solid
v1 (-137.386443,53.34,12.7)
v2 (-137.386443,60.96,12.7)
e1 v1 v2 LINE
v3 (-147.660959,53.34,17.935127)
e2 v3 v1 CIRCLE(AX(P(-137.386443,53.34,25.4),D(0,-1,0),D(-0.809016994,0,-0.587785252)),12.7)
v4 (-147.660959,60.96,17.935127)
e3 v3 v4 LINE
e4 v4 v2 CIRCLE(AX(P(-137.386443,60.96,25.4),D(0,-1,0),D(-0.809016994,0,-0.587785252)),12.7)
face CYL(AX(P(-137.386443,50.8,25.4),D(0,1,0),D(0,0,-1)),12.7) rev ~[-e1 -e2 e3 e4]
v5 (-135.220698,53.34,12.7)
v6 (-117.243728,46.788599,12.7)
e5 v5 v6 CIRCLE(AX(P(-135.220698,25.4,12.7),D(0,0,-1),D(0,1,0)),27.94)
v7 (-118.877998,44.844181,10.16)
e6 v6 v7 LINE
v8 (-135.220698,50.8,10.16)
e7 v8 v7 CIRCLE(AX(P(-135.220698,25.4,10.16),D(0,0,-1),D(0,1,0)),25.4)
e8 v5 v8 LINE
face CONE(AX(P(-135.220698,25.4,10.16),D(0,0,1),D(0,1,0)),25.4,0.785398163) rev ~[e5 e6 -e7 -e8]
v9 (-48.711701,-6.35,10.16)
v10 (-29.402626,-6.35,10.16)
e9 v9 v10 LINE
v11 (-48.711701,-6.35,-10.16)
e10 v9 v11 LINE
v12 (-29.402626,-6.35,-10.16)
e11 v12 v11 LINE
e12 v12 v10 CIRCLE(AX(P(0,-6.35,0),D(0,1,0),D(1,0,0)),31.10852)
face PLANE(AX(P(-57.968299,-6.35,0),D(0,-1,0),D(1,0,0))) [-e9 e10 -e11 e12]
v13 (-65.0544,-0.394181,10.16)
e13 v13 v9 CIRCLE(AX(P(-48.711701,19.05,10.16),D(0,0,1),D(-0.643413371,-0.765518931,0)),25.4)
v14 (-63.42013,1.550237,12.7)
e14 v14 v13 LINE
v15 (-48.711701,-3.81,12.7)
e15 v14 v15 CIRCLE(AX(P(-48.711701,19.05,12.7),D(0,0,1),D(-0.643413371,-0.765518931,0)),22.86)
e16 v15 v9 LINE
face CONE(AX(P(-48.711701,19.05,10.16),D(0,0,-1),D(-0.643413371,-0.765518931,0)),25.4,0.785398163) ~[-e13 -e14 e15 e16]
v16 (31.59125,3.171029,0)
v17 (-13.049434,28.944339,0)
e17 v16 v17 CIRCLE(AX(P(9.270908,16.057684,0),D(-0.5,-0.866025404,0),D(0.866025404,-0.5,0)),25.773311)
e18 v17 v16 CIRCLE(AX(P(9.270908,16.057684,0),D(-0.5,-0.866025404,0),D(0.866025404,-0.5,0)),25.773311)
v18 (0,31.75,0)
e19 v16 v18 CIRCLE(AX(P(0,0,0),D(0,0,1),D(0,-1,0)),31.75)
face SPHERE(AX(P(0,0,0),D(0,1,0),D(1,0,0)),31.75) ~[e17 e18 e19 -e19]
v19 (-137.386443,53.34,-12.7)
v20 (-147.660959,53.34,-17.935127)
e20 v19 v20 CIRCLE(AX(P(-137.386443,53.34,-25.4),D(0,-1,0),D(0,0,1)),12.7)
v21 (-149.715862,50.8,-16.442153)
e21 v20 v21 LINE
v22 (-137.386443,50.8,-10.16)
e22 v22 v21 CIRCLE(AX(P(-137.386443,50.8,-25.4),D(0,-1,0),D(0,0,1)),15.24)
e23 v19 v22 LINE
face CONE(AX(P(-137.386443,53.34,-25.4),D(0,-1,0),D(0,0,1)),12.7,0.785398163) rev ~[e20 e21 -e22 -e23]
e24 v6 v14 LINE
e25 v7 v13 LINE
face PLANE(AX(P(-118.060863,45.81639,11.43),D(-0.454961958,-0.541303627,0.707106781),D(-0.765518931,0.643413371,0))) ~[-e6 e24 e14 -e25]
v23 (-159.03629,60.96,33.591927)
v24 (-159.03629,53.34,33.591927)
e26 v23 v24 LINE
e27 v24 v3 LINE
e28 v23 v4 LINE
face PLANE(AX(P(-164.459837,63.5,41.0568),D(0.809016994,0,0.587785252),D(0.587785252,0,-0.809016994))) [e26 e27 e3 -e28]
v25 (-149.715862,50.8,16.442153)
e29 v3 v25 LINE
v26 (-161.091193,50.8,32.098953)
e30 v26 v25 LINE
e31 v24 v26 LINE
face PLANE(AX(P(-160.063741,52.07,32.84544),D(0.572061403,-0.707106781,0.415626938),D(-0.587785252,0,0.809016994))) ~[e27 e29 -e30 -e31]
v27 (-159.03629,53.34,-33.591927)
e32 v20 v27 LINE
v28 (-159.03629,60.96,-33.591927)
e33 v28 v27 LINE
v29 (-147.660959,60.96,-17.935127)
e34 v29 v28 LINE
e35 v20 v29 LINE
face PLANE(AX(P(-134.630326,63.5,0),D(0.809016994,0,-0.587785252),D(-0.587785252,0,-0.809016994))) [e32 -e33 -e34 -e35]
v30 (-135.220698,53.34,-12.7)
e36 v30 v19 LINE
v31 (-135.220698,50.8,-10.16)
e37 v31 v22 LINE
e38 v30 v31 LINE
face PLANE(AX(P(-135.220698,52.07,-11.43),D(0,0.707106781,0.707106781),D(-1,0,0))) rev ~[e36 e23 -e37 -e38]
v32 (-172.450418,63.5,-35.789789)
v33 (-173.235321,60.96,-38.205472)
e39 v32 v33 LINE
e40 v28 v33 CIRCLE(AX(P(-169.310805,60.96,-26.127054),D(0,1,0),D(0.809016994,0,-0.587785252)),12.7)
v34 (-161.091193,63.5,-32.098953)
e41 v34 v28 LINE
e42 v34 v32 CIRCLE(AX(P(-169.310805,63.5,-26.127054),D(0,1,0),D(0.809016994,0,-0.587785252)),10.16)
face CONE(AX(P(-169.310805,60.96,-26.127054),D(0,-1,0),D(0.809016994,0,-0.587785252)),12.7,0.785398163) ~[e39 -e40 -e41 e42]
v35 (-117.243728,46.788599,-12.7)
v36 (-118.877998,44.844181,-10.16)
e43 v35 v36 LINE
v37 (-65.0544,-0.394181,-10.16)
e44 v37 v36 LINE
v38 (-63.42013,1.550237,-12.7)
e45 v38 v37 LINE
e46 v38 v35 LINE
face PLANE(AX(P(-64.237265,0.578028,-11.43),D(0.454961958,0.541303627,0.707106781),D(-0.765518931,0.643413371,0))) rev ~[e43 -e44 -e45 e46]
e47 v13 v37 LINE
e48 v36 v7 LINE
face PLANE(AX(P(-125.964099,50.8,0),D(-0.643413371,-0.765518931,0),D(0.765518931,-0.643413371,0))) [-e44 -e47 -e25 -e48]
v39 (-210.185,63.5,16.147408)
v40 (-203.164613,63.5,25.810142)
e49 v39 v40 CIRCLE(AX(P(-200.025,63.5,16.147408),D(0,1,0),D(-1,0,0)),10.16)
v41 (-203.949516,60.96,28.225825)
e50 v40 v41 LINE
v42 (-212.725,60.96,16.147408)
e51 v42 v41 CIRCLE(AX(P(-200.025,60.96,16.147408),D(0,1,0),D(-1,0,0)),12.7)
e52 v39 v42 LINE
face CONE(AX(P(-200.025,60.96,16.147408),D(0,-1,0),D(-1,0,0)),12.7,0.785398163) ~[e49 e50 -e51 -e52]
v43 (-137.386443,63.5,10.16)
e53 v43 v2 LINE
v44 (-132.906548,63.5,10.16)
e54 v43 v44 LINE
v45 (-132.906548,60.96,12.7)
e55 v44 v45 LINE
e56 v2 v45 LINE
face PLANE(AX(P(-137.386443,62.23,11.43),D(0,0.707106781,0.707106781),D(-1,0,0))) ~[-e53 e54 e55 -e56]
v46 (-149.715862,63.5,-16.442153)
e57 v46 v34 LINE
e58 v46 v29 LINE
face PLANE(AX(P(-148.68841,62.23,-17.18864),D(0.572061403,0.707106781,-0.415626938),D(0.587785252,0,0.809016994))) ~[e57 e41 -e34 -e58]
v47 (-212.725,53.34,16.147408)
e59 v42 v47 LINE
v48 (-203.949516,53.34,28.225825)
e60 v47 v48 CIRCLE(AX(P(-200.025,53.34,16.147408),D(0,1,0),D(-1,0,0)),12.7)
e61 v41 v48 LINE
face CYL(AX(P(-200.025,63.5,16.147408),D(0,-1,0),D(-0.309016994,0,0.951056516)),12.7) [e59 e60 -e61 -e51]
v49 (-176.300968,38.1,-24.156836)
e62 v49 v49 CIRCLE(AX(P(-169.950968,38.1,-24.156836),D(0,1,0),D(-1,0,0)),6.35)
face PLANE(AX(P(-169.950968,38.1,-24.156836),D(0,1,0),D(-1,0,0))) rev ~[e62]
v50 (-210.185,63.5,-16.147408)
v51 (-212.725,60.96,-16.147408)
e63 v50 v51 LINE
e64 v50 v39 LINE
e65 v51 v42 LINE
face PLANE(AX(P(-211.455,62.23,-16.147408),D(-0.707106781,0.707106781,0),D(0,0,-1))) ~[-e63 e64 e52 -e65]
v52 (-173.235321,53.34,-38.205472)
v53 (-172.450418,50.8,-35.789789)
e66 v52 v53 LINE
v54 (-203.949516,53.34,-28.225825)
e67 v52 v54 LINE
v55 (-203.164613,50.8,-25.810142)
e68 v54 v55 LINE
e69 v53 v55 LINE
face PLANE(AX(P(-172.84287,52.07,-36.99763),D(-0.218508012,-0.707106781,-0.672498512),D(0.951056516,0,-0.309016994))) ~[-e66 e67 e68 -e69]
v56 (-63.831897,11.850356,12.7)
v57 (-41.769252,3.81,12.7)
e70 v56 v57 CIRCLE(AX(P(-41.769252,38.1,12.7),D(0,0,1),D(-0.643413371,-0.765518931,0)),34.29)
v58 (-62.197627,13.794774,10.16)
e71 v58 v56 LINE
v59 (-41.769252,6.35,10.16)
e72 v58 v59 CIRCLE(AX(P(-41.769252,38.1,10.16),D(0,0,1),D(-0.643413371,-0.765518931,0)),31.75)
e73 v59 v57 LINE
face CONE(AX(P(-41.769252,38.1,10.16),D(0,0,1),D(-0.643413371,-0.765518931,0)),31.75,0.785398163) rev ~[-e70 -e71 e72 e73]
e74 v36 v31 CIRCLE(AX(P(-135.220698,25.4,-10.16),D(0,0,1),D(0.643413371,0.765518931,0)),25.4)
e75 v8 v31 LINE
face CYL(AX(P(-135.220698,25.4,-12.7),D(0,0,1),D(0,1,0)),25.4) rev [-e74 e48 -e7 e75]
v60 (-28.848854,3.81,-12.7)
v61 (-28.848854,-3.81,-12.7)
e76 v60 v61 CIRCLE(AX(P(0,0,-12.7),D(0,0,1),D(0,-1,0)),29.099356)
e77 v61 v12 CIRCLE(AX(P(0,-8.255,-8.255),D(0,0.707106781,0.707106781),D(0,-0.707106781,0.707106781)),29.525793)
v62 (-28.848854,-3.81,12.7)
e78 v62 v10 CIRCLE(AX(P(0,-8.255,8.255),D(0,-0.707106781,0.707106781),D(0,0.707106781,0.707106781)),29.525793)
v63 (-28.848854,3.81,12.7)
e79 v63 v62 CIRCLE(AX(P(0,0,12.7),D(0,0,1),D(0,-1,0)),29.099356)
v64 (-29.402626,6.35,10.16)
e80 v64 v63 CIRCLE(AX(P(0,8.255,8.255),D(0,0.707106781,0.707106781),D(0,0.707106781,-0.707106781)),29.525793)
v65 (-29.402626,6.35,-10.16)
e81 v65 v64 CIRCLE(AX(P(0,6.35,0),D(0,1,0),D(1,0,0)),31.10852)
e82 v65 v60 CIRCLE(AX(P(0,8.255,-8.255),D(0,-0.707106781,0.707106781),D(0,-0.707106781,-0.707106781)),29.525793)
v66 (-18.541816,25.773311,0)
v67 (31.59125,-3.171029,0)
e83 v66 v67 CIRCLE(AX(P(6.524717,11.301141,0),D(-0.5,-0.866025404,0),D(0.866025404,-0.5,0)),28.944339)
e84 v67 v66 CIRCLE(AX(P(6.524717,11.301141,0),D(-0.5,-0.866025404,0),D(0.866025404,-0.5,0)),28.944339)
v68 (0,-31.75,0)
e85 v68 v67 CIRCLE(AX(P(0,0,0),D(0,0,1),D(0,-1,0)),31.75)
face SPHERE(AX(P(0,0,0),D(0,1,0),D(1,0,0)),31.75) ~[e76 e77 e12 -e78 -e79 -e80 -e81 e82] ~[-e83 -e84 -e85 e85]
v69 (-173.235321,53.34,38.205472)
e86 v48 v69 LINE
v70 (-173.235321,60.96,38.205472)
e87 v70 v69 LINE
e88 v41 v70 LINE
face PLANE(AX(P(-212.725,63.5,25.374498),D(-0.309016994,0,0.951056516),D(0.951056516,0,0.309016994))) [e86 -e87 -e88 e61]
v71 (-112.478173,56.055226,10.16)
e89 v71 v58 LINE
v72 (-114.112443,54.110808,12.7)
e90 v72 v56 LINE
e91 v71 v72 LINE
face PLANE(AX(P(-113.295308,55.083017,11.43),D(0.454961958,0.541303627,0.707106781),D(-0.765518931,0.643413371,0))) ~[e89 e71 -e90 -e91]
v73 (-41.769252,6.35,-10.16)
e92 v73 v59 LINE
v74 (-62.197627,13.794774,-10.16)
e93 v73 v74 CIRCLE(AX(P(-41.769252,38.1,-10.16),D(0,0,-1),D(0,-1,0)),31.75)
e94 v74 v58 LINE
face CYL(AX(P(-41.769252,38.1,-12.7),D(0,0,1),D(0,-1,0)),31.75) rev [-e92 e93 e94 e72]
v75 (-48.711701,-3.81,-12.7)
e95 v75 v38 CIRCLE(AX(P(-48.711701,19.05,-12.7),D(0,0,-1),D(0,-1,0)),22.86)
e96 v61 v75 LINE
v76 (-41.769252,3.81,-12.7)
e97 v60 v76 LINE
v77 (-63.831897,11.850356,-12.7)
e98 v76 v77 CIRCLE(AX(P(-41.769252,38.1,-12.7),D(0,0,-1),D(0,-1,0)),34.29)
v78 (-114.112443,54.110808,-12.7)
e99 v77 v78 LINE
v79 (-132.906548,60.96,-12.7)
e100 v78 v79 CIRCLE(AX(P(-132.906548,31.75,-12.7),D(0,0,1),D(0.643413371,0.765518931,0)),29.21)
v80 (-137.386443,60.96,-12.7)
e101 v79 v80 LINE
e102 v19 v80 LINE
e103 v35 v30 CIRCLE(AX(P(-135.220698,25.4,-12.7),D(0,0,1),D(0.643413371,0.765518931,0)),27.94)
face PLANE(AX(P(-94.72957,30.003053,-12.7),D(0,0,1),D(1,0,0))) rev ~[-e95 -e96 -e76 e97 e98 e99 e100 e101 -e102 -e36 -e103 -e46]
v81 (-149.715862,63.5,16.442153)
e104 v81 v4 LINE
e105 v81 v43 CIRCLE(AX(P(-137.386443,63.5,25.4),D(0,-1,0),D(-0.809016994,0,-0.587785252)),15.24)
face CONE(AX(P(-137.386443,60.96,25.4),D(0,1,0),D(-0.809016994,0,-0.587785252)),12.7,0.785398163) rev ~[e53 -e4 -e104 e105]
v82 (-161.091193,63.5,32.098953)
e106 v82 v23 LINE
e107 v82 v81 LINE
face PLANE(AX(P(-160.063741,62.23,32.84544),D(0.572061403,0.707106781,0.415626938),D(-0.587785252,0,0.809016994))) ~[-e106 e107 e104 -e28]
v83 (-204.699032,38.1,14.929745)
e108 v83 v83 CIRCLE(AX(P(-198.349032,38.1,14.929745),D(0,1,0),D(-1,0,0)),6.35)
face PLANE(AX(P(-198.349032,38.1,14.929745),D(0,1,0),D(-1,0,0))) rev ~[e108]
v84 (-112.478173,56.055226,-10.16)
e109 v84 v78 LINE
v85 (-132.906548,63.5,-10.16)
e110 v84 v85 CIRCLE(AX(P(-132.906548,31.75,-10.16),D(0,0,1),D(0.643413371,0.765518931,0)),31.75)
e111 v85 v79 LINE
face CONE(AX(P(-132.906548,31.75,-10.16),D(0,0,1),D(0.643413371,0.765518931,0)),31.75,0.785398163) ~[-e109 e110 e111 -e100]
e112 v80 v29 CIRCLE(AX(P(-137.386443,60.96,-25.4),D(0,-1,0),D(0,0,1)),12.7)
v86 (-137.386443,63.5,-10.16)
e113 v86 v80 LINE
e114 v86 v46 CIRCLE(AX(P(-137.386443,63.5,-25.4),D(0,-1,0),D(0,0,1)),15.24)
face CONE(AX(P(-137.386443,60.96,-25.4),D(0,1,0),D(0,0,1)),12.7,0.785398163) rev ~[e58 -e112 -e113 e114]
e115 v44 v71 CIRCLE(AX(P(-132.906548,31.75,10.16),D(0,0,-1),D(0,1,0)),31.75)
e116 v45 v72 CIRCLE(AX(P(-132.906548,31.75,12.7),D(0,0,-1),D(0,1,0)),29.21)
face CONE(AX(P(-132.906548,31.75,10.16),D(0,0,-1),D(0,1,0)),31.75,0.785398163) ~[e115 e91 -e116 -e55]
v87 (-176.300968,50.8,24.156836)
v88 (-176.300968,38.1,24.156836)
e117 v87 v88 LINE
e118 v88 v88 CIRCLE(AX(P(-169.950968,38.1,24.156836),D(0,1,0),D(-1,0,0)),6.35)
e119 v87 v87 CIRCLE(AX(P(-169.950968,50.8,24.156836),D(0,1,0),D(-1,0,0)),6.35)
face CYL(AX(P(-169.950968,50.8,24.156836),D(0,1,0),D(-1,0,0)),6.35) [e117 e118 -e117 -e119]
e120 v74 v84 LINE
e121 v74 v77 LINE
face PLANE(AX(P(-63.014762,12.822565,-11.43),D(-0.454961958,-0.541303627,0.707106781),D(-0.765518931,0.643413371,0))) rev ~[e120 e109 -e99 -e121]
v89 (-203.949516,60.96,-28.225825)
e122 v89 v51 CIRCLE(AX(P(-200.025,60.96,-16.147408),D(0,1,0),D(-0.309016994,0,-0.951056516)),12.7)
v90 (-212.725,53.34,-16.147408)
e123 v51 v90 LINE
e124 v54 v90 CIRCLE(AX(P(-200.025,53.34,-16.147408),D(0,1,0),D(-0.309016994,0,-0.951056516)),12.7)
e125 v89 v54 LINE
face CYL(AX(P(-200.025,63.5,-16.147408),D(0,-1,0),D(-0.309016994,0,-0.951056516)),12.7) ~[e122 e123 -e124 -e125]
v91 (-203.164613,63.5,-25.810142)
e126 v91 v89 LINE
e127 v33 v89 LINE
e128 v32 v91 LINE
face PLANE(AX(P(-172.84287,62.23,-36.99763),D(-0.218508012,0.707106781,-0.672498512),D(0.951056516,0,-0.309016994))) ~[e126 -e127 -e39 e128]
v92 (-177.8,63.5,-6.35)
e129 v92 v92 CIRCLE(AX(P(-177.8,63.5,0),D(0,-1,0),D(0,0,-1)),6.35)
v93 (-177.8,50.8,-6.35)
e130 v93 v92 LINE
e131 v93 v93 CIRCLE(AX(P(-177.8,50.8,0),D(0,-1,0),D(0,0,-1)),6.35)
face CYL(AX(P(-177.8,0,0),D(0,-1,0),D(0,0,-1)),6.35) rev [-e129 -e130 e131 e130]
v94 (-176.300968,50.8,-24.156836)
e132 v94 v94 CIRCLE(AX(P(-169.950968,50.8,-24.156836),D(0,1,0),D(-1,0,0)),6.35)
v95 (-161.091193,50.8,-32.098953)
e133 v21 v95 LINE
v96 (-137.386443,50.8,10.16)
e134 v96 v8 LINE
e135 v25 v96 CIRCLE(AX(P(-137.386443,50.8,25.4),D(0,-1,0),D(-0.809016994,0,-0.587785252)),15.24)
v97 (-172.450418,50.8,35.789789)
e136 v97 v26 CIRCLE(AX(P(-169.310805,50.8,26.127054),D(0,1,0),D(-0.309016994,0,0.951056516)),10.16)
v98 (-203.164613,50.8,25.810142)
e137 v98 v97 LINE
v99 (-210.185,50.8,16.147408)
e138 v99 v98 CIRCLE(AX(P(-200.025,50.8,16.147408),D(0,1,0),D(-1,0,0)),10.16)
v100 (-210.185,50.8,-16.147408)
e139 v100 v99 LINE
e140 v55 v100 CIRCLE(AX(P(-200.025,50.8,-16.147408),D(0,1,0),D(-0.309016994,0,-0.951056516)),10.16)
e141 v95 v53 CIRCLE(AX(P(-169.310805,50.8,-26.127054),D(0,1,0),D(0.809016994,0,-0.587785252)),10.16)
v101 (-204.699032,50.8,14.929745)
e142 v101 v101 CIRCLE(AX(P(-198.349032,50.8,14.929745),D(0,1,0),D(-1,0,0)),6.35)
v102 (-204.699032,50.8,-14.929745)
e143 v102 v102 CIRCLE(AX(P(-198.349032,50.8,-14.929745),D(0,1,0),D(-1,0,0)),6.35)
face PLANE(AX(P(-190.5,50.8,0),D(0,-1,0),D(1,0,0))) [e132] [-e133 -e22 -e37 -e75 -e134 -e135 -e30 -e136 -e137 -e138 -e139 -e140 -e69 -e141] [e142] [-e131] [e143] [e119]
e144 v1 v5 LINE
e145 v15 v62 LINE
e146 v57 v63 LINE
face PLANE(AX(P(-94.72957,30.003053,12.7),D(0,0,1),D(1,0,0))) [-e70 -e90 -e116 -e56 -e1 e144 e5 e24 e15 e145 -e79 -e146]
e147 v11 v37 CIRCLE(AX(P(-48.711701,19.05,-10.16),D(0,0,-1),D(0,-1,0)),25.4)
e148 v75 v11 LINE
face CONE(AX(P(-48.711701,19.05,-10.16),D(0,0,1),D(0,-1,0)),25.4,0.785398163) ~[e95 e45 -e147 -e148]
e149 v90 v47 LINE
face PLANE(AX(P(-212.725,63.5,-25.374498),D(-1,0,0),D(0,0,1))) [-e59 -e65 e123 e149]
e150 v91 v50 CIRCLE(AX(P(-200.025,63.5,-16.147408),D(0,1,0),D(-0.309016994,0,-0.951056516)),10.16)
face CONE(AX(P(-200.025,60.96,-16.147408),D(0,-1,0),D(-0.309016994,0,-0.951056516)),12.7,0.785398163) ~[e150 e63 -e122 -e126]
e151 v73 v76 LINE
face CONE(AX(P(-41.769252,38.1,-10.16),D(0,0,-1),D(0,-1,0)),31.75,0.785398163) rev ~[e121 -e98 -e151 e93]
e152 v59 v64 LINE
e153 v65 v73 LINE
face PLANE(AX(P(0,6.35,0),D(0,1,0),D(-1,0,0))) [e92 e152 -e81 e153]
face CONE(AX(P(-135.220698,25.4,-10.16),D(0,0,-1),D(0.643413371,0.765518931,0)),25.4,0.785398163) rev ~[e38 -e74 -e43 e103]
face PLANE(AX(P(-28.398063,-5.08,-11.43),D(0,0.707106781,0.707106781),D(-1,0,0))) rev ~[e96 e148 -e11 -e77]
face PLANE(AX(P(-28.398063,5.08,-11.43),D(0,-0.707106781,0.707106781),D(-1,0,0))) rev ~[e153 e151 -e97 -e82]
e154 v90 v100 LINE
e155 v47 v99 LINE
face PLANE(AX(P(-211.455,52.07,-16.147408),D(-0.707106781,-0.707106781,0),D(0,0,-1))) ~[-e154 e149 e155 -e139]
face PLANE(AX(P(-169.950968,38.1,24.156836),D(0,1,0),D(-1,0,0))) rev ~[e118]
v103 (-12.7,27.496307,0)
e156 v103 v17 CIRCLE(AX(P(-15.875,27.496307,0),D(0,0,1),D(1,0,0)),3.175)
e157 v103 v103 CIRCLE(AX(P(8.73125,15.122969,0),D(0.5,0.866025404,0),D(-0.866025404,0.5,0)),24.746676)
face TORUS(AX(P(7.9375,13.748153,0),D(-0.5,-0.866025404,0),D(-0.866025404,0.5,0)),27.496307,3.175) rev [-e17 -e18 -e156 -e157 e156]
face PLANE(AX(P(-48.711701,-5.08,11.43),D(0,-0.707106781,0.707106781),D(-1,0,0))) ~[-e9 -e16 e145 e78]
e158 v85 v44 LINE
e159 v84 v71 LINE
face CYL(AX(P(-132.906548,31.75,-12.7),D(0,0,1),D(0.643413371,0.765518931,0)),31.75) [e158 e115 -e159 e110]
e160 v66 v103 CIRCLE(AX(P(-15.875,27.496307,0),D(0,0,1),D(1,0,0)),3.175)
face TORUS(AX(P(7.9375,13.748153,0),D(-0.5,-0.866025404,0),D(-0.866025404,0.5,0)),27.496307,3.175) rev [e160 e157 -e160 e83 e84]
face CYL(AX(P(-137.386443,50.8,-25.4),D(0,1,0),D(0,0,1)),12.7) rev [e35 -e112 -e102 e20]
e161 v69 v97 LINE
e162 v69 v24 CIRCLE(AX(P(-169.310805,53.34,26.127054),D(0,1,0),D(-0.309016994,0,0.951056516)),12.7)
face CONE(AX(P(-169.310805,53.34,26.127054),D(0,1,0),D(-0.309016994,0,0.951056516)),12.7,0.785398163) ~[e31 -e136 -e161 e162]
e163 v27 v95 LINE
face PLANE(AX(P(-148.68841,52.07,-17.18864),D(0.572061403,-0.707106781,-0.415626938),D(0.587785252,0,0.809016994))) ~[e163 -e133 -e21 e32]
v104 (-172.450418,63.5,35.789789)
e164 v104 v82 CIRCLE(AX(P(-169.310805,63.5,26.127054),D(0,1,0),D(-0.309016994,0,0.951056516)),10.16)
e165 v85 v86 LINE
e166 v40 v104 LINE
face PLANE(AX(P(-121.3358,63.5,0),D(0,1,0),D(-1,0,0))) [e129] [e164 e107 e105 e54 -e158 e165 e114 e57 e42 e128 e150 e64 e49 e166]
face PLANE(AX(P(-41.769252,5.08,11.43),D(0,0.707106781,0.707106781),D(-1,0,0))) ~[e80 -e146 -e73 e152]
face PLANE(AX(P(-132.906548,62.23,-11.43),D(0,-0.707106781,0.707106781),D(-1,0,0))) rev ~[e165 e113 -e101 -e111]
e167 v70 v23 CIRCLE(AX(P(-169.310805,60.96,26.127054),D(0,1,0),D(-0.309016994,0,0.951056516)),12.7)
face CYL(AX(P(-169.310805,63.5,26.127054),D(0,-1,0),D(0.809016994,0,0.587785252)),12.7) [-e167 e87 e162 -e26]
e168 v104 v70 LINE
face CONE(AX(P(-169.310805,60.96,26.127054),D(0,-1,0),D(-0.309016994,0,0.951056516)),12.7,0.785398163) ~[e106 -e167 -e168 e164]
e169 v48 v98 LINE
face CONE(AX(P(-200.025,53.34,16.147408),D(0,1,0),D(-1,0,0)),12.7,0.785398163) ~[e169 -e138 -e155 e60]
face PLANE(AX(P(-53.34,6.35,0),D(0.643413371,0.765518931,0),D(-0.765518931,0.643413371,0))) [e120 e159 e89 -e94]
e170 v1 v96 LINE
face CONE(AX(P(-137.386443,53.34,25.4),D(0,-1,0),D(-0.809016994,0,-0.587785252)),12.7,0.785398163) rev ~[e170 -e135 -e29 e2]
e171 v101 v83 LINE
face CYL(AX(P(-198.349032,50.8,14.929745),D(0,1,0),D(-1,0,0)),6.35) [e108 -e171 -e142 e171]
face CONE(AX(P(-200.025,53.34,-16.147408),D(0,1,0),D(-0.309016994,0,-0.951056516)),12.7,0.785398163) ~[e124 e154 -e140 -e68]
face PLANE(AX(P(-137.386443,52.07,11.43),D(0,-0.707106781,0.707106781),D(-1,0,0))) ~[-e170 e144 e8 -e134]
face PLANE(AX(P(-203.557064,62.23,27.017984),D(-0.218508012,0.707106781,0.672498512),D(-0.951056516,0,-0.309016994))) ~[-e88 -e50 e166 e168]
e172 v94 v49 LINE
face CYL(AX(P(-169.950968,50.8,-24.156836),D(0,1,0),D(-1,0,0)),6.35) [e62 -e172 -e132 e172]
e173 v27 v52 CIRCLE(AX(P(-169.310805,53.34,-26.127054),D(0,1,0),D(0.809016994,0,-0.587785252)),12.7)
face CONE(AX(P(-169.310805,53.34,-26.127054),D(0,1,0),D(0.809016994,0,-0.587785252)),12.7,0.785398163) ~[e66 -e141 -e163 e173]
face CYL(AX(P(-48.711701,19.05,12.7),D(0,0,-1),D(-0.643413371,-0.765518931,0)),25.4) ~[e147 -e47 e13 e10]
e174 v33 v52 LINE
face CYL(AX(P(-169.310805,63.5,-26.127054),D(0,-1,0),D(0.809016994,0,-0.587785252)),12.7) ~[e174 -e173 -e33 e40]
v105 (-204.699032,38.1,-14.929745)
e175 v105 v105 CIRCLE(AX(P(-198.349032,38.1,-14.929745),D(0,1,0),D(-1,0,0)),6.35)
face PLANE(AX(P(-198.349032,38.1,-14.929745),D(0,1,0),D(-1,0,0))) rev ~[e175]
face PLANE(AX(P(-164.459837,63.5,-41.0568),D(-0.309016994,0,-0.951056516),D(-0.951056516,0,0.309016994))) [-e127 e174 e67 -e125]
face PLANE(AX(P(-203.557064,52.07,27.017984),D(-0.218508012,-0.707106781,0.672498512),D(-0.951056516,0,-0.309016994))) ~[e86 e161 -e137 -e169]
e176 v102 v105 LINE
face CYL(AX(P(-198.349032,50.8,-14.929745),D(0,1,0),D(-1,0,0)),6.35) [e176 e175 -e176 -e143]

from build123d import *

# Parameters (mm, degrees)
BOSS_EXTRUDE4_DEPTH = 12.7
FILLET5_R           = 31.75
FILLET6_R           = 25.4
BOSS_EXTRUDE5_START = 63.5
BOSS_EXTRUDE5_DEPTH = 12.7
SKETCH20_R          = 6.35
CUT_EXTRUDE6_DEPTH  = 112.014
FILLET7_R           = 12.7
CHAMFER2_SIZE       = 2.54
BOSS_EXTRUDE7_START = 50.8
SKETCH22_R          = 6.35
BOSS_EXTRUDE7_DEPTH = 12.7
SKETCH23_R          = 3.175


with BuildPart() as part:
    # Sketch2 → Revolve1 (revolve)
    with BuildSketch(Plane.XY):
        with BuildLine():
            Line((0, 31.75), (0, 0))
            Line((0, 0), (0, -31.75))
            ThreePointArc((0, -31.75), (31.75, 0), (0, 31.75))
        make_face()
    revolve(axis=Axis((0, 31.75, 0), (0, -1, 0)))

    # Sketch15 → Boss-Extrude4 (add, symmetric)
    with BuildSketch(Plane.XY):
        Polygon((0, 0), (0, 6.35), (-53.34, 6.35), (-121.3358, 63.5), (-190.5, 63.5), (-190.5, 50.8), (-125.964099177, 50.8), (-57.968299177, -6.35), (-10.998522628, -6.35), (0, -6.35), align=None)
    extrude(amount=BOSS_EXTRUDE4_DEPTH, both=True)

    # Fillet5
    fillet5_edges = [part.edges().sort_by_distance(p)[0] for p in [
        (-53.34, 6.35, 0),
        (-121.3358, 63.5, 0),
    ]]
    fillet(fillet5_edges, radius=FILLET5_R)

    # Fillet6
    fillet6_edges = [part.edges().sort_by_distance(p)[0] for p in [
        (-125.964099177, 50.8, 0),
        (-57.968299177, -6.35, 0),
    ]]
    fillet(fillet6_edges, radius=FILLET6_R)

    # Sketch19 → Boss-Extrude5 (add)
    with BuildSketch(Plane(origin=(0, 0, 0), x_dir=(1, 0, 0), z_dir=(0, 1, 0)).offset(BOSS_EXTRUDE5_START)):
        Polygon((-134.630325886, 0), (-164.459837057, 41.056799873), (-212.725, 25.374497791), (-212.725, -25.374497791), (-164.459837057, -41.056799873), align=None)
    extrude(amount=-BOSS_EXTRUDE5_DEPTH)

    # Sketch20 → Cut-Extrude6 (cut)
    with BuildSketch(Plane(origin=(0, 0, 0), x_dir=(1, 0, 0), z_dir=(0, 1, 0))):
        with Locations(Location((-177.8, 0, 0), (0, 0, 90))):
            Circle(SKETCH20_R)
    extrude(amount=CUT_EXTRUDE6_DEPTH, mode=Mode.SUBTRACT)

    # Fillet7
    fillet7_edges = [part.edges().sort_by_distance(p)[0] for p in [
        (-164.459837057, 57.15, -41.056799873),
        (-143.857415991, 57.15, 12.7),
        (-164.459837057, 57.15, 41.056799873),
        (-212.725, 57.15, 25.374497791),
        (-212.725, 57.15, -25.374497791),
        (-143.857415991, 57.15, -12.7),
    ]]
    fillet(fillet7_edges, radius=FILLET7_R)

    # Chamfer2
    chamfer2_edges = [part.edges().sort_by_distance(p)[0] for p in [
        (-153.348624091, 63.5, 25.763527232),
        (-188.592418529, 63.5, -33.215648832),
        (-212.725, 63.5, 0),
        (-188.592418529, 63.5, 33.215648832),
        (-165.386289571, 63.5, 38.205472221),
        (-210.299515829, 63.5, 23.612280389),
        (-210.299515829, 63.5, -23.612280389),
        (-165.386289571, 63.5, -38.205472221),
        (-188.592418529, 50.8, -33.215648832),
        (-136.303570156, 50.8, 12.7),
        (-153.348624091, 50.8, 25.763527232),
        (-188.592418529, 50.8, 33.215648832),
        (-212.725, 50.8, 0),
        (-165.386289571, 50.8, 38.205472221),
        (-210.299515829, 50.8, 23.612280389),
        (-210.299515829, 50.8, -23.612280389),
        (-165.386289571, 50.8, -38.205472221),
        (-35.083657686, 6.35, -12.7),
        (-143.15212213, 63.5, -14.084217143),
        (-143.15212213, 50.8, -14.084217143),
        (-143.15212213, 63.5, 14.084217143),
        (-143.15212213, 50.8, 14.084217143),
        (-35.083657686, 6.35, 12.7),
        (-135.146495362, 63.5, -12.7),
        (-135.146495362, 63.5, 12.7),
        (-87.3379, 34.925, -12.7),
        (-122.035219306, 61.580801426, -12.7),
        (-87.3379, 34.925, 12.7),
        (-122.035219306, 61.580801426, 12.7),
        (-52.640580694, 8.269198574, -12.7),
        (-52.640580694, 8.269198574, 12.7),
        (-91.966199177, 22.225, -12.7),
        (-91.966199177, 22.225, 12.7),
        (-38.554882069, -6.35, -12.7),
        (-38.554882069, -6.35, 12.7),
        (-57.408763732, -4.81464114, -12.7),
        (-57.408763732, -4.81464114, 12.7),
        (-126.523634621, 49.26464114, -12.7),
        (-126.523634621, 49.26464114, 12.7),
        (-136.303570156, 50.8, -12.7),
        (-153.348624091, 50.8, -25.763527232),
        (-153.348624091, 63.5, -25.763527232),
    ]]
    chamfer(chamfer2_edges, length=CHAMFER2_SIZE)

    # Sketch22 → Boss-Extrude7 (add)
    with BuildSketch(Plane(origin=(0, 0, 0), x_dir=(1, 0, 0), z_dir=(0, 1, 0)).offset(BOSS_EXTRUDE7_START)):
        with Locations(Location((-198.349031657, -14.929745408, 0), (0, 0, 180))):
            Circle(SKETCH22_R)
        with Locations(Location((-198.349031657, 14.929745408, 0), (0, 0, 180))):
            Circle(SKETCH22_R)
        with Locations(Location((-169.950968343, 24.156835514, 0), (0, 0, 180))):
            Circle(SKETCH22_R)
        with Locations(Location((-169.950968343, -24.156835514, 0), (0, 0, 180))):
            Circle(SKETCH22_R)
    extrude(amount=-BOSS_EXTRUDE7_DEPTH)

    # Sketch23 → Cut-Revolve12 (revolve, cut)
    with BuildSketch(Plane.XY):
        with Locations((-15.875, 27.49630657)):
            Circle(SKETCH23_R)
    revolve(axis=Axis((0, 0, 0), (0.5000000000000011, 0.866025403784438, 0)), mode=Mode.SUBTRACT)


solid = part.part
